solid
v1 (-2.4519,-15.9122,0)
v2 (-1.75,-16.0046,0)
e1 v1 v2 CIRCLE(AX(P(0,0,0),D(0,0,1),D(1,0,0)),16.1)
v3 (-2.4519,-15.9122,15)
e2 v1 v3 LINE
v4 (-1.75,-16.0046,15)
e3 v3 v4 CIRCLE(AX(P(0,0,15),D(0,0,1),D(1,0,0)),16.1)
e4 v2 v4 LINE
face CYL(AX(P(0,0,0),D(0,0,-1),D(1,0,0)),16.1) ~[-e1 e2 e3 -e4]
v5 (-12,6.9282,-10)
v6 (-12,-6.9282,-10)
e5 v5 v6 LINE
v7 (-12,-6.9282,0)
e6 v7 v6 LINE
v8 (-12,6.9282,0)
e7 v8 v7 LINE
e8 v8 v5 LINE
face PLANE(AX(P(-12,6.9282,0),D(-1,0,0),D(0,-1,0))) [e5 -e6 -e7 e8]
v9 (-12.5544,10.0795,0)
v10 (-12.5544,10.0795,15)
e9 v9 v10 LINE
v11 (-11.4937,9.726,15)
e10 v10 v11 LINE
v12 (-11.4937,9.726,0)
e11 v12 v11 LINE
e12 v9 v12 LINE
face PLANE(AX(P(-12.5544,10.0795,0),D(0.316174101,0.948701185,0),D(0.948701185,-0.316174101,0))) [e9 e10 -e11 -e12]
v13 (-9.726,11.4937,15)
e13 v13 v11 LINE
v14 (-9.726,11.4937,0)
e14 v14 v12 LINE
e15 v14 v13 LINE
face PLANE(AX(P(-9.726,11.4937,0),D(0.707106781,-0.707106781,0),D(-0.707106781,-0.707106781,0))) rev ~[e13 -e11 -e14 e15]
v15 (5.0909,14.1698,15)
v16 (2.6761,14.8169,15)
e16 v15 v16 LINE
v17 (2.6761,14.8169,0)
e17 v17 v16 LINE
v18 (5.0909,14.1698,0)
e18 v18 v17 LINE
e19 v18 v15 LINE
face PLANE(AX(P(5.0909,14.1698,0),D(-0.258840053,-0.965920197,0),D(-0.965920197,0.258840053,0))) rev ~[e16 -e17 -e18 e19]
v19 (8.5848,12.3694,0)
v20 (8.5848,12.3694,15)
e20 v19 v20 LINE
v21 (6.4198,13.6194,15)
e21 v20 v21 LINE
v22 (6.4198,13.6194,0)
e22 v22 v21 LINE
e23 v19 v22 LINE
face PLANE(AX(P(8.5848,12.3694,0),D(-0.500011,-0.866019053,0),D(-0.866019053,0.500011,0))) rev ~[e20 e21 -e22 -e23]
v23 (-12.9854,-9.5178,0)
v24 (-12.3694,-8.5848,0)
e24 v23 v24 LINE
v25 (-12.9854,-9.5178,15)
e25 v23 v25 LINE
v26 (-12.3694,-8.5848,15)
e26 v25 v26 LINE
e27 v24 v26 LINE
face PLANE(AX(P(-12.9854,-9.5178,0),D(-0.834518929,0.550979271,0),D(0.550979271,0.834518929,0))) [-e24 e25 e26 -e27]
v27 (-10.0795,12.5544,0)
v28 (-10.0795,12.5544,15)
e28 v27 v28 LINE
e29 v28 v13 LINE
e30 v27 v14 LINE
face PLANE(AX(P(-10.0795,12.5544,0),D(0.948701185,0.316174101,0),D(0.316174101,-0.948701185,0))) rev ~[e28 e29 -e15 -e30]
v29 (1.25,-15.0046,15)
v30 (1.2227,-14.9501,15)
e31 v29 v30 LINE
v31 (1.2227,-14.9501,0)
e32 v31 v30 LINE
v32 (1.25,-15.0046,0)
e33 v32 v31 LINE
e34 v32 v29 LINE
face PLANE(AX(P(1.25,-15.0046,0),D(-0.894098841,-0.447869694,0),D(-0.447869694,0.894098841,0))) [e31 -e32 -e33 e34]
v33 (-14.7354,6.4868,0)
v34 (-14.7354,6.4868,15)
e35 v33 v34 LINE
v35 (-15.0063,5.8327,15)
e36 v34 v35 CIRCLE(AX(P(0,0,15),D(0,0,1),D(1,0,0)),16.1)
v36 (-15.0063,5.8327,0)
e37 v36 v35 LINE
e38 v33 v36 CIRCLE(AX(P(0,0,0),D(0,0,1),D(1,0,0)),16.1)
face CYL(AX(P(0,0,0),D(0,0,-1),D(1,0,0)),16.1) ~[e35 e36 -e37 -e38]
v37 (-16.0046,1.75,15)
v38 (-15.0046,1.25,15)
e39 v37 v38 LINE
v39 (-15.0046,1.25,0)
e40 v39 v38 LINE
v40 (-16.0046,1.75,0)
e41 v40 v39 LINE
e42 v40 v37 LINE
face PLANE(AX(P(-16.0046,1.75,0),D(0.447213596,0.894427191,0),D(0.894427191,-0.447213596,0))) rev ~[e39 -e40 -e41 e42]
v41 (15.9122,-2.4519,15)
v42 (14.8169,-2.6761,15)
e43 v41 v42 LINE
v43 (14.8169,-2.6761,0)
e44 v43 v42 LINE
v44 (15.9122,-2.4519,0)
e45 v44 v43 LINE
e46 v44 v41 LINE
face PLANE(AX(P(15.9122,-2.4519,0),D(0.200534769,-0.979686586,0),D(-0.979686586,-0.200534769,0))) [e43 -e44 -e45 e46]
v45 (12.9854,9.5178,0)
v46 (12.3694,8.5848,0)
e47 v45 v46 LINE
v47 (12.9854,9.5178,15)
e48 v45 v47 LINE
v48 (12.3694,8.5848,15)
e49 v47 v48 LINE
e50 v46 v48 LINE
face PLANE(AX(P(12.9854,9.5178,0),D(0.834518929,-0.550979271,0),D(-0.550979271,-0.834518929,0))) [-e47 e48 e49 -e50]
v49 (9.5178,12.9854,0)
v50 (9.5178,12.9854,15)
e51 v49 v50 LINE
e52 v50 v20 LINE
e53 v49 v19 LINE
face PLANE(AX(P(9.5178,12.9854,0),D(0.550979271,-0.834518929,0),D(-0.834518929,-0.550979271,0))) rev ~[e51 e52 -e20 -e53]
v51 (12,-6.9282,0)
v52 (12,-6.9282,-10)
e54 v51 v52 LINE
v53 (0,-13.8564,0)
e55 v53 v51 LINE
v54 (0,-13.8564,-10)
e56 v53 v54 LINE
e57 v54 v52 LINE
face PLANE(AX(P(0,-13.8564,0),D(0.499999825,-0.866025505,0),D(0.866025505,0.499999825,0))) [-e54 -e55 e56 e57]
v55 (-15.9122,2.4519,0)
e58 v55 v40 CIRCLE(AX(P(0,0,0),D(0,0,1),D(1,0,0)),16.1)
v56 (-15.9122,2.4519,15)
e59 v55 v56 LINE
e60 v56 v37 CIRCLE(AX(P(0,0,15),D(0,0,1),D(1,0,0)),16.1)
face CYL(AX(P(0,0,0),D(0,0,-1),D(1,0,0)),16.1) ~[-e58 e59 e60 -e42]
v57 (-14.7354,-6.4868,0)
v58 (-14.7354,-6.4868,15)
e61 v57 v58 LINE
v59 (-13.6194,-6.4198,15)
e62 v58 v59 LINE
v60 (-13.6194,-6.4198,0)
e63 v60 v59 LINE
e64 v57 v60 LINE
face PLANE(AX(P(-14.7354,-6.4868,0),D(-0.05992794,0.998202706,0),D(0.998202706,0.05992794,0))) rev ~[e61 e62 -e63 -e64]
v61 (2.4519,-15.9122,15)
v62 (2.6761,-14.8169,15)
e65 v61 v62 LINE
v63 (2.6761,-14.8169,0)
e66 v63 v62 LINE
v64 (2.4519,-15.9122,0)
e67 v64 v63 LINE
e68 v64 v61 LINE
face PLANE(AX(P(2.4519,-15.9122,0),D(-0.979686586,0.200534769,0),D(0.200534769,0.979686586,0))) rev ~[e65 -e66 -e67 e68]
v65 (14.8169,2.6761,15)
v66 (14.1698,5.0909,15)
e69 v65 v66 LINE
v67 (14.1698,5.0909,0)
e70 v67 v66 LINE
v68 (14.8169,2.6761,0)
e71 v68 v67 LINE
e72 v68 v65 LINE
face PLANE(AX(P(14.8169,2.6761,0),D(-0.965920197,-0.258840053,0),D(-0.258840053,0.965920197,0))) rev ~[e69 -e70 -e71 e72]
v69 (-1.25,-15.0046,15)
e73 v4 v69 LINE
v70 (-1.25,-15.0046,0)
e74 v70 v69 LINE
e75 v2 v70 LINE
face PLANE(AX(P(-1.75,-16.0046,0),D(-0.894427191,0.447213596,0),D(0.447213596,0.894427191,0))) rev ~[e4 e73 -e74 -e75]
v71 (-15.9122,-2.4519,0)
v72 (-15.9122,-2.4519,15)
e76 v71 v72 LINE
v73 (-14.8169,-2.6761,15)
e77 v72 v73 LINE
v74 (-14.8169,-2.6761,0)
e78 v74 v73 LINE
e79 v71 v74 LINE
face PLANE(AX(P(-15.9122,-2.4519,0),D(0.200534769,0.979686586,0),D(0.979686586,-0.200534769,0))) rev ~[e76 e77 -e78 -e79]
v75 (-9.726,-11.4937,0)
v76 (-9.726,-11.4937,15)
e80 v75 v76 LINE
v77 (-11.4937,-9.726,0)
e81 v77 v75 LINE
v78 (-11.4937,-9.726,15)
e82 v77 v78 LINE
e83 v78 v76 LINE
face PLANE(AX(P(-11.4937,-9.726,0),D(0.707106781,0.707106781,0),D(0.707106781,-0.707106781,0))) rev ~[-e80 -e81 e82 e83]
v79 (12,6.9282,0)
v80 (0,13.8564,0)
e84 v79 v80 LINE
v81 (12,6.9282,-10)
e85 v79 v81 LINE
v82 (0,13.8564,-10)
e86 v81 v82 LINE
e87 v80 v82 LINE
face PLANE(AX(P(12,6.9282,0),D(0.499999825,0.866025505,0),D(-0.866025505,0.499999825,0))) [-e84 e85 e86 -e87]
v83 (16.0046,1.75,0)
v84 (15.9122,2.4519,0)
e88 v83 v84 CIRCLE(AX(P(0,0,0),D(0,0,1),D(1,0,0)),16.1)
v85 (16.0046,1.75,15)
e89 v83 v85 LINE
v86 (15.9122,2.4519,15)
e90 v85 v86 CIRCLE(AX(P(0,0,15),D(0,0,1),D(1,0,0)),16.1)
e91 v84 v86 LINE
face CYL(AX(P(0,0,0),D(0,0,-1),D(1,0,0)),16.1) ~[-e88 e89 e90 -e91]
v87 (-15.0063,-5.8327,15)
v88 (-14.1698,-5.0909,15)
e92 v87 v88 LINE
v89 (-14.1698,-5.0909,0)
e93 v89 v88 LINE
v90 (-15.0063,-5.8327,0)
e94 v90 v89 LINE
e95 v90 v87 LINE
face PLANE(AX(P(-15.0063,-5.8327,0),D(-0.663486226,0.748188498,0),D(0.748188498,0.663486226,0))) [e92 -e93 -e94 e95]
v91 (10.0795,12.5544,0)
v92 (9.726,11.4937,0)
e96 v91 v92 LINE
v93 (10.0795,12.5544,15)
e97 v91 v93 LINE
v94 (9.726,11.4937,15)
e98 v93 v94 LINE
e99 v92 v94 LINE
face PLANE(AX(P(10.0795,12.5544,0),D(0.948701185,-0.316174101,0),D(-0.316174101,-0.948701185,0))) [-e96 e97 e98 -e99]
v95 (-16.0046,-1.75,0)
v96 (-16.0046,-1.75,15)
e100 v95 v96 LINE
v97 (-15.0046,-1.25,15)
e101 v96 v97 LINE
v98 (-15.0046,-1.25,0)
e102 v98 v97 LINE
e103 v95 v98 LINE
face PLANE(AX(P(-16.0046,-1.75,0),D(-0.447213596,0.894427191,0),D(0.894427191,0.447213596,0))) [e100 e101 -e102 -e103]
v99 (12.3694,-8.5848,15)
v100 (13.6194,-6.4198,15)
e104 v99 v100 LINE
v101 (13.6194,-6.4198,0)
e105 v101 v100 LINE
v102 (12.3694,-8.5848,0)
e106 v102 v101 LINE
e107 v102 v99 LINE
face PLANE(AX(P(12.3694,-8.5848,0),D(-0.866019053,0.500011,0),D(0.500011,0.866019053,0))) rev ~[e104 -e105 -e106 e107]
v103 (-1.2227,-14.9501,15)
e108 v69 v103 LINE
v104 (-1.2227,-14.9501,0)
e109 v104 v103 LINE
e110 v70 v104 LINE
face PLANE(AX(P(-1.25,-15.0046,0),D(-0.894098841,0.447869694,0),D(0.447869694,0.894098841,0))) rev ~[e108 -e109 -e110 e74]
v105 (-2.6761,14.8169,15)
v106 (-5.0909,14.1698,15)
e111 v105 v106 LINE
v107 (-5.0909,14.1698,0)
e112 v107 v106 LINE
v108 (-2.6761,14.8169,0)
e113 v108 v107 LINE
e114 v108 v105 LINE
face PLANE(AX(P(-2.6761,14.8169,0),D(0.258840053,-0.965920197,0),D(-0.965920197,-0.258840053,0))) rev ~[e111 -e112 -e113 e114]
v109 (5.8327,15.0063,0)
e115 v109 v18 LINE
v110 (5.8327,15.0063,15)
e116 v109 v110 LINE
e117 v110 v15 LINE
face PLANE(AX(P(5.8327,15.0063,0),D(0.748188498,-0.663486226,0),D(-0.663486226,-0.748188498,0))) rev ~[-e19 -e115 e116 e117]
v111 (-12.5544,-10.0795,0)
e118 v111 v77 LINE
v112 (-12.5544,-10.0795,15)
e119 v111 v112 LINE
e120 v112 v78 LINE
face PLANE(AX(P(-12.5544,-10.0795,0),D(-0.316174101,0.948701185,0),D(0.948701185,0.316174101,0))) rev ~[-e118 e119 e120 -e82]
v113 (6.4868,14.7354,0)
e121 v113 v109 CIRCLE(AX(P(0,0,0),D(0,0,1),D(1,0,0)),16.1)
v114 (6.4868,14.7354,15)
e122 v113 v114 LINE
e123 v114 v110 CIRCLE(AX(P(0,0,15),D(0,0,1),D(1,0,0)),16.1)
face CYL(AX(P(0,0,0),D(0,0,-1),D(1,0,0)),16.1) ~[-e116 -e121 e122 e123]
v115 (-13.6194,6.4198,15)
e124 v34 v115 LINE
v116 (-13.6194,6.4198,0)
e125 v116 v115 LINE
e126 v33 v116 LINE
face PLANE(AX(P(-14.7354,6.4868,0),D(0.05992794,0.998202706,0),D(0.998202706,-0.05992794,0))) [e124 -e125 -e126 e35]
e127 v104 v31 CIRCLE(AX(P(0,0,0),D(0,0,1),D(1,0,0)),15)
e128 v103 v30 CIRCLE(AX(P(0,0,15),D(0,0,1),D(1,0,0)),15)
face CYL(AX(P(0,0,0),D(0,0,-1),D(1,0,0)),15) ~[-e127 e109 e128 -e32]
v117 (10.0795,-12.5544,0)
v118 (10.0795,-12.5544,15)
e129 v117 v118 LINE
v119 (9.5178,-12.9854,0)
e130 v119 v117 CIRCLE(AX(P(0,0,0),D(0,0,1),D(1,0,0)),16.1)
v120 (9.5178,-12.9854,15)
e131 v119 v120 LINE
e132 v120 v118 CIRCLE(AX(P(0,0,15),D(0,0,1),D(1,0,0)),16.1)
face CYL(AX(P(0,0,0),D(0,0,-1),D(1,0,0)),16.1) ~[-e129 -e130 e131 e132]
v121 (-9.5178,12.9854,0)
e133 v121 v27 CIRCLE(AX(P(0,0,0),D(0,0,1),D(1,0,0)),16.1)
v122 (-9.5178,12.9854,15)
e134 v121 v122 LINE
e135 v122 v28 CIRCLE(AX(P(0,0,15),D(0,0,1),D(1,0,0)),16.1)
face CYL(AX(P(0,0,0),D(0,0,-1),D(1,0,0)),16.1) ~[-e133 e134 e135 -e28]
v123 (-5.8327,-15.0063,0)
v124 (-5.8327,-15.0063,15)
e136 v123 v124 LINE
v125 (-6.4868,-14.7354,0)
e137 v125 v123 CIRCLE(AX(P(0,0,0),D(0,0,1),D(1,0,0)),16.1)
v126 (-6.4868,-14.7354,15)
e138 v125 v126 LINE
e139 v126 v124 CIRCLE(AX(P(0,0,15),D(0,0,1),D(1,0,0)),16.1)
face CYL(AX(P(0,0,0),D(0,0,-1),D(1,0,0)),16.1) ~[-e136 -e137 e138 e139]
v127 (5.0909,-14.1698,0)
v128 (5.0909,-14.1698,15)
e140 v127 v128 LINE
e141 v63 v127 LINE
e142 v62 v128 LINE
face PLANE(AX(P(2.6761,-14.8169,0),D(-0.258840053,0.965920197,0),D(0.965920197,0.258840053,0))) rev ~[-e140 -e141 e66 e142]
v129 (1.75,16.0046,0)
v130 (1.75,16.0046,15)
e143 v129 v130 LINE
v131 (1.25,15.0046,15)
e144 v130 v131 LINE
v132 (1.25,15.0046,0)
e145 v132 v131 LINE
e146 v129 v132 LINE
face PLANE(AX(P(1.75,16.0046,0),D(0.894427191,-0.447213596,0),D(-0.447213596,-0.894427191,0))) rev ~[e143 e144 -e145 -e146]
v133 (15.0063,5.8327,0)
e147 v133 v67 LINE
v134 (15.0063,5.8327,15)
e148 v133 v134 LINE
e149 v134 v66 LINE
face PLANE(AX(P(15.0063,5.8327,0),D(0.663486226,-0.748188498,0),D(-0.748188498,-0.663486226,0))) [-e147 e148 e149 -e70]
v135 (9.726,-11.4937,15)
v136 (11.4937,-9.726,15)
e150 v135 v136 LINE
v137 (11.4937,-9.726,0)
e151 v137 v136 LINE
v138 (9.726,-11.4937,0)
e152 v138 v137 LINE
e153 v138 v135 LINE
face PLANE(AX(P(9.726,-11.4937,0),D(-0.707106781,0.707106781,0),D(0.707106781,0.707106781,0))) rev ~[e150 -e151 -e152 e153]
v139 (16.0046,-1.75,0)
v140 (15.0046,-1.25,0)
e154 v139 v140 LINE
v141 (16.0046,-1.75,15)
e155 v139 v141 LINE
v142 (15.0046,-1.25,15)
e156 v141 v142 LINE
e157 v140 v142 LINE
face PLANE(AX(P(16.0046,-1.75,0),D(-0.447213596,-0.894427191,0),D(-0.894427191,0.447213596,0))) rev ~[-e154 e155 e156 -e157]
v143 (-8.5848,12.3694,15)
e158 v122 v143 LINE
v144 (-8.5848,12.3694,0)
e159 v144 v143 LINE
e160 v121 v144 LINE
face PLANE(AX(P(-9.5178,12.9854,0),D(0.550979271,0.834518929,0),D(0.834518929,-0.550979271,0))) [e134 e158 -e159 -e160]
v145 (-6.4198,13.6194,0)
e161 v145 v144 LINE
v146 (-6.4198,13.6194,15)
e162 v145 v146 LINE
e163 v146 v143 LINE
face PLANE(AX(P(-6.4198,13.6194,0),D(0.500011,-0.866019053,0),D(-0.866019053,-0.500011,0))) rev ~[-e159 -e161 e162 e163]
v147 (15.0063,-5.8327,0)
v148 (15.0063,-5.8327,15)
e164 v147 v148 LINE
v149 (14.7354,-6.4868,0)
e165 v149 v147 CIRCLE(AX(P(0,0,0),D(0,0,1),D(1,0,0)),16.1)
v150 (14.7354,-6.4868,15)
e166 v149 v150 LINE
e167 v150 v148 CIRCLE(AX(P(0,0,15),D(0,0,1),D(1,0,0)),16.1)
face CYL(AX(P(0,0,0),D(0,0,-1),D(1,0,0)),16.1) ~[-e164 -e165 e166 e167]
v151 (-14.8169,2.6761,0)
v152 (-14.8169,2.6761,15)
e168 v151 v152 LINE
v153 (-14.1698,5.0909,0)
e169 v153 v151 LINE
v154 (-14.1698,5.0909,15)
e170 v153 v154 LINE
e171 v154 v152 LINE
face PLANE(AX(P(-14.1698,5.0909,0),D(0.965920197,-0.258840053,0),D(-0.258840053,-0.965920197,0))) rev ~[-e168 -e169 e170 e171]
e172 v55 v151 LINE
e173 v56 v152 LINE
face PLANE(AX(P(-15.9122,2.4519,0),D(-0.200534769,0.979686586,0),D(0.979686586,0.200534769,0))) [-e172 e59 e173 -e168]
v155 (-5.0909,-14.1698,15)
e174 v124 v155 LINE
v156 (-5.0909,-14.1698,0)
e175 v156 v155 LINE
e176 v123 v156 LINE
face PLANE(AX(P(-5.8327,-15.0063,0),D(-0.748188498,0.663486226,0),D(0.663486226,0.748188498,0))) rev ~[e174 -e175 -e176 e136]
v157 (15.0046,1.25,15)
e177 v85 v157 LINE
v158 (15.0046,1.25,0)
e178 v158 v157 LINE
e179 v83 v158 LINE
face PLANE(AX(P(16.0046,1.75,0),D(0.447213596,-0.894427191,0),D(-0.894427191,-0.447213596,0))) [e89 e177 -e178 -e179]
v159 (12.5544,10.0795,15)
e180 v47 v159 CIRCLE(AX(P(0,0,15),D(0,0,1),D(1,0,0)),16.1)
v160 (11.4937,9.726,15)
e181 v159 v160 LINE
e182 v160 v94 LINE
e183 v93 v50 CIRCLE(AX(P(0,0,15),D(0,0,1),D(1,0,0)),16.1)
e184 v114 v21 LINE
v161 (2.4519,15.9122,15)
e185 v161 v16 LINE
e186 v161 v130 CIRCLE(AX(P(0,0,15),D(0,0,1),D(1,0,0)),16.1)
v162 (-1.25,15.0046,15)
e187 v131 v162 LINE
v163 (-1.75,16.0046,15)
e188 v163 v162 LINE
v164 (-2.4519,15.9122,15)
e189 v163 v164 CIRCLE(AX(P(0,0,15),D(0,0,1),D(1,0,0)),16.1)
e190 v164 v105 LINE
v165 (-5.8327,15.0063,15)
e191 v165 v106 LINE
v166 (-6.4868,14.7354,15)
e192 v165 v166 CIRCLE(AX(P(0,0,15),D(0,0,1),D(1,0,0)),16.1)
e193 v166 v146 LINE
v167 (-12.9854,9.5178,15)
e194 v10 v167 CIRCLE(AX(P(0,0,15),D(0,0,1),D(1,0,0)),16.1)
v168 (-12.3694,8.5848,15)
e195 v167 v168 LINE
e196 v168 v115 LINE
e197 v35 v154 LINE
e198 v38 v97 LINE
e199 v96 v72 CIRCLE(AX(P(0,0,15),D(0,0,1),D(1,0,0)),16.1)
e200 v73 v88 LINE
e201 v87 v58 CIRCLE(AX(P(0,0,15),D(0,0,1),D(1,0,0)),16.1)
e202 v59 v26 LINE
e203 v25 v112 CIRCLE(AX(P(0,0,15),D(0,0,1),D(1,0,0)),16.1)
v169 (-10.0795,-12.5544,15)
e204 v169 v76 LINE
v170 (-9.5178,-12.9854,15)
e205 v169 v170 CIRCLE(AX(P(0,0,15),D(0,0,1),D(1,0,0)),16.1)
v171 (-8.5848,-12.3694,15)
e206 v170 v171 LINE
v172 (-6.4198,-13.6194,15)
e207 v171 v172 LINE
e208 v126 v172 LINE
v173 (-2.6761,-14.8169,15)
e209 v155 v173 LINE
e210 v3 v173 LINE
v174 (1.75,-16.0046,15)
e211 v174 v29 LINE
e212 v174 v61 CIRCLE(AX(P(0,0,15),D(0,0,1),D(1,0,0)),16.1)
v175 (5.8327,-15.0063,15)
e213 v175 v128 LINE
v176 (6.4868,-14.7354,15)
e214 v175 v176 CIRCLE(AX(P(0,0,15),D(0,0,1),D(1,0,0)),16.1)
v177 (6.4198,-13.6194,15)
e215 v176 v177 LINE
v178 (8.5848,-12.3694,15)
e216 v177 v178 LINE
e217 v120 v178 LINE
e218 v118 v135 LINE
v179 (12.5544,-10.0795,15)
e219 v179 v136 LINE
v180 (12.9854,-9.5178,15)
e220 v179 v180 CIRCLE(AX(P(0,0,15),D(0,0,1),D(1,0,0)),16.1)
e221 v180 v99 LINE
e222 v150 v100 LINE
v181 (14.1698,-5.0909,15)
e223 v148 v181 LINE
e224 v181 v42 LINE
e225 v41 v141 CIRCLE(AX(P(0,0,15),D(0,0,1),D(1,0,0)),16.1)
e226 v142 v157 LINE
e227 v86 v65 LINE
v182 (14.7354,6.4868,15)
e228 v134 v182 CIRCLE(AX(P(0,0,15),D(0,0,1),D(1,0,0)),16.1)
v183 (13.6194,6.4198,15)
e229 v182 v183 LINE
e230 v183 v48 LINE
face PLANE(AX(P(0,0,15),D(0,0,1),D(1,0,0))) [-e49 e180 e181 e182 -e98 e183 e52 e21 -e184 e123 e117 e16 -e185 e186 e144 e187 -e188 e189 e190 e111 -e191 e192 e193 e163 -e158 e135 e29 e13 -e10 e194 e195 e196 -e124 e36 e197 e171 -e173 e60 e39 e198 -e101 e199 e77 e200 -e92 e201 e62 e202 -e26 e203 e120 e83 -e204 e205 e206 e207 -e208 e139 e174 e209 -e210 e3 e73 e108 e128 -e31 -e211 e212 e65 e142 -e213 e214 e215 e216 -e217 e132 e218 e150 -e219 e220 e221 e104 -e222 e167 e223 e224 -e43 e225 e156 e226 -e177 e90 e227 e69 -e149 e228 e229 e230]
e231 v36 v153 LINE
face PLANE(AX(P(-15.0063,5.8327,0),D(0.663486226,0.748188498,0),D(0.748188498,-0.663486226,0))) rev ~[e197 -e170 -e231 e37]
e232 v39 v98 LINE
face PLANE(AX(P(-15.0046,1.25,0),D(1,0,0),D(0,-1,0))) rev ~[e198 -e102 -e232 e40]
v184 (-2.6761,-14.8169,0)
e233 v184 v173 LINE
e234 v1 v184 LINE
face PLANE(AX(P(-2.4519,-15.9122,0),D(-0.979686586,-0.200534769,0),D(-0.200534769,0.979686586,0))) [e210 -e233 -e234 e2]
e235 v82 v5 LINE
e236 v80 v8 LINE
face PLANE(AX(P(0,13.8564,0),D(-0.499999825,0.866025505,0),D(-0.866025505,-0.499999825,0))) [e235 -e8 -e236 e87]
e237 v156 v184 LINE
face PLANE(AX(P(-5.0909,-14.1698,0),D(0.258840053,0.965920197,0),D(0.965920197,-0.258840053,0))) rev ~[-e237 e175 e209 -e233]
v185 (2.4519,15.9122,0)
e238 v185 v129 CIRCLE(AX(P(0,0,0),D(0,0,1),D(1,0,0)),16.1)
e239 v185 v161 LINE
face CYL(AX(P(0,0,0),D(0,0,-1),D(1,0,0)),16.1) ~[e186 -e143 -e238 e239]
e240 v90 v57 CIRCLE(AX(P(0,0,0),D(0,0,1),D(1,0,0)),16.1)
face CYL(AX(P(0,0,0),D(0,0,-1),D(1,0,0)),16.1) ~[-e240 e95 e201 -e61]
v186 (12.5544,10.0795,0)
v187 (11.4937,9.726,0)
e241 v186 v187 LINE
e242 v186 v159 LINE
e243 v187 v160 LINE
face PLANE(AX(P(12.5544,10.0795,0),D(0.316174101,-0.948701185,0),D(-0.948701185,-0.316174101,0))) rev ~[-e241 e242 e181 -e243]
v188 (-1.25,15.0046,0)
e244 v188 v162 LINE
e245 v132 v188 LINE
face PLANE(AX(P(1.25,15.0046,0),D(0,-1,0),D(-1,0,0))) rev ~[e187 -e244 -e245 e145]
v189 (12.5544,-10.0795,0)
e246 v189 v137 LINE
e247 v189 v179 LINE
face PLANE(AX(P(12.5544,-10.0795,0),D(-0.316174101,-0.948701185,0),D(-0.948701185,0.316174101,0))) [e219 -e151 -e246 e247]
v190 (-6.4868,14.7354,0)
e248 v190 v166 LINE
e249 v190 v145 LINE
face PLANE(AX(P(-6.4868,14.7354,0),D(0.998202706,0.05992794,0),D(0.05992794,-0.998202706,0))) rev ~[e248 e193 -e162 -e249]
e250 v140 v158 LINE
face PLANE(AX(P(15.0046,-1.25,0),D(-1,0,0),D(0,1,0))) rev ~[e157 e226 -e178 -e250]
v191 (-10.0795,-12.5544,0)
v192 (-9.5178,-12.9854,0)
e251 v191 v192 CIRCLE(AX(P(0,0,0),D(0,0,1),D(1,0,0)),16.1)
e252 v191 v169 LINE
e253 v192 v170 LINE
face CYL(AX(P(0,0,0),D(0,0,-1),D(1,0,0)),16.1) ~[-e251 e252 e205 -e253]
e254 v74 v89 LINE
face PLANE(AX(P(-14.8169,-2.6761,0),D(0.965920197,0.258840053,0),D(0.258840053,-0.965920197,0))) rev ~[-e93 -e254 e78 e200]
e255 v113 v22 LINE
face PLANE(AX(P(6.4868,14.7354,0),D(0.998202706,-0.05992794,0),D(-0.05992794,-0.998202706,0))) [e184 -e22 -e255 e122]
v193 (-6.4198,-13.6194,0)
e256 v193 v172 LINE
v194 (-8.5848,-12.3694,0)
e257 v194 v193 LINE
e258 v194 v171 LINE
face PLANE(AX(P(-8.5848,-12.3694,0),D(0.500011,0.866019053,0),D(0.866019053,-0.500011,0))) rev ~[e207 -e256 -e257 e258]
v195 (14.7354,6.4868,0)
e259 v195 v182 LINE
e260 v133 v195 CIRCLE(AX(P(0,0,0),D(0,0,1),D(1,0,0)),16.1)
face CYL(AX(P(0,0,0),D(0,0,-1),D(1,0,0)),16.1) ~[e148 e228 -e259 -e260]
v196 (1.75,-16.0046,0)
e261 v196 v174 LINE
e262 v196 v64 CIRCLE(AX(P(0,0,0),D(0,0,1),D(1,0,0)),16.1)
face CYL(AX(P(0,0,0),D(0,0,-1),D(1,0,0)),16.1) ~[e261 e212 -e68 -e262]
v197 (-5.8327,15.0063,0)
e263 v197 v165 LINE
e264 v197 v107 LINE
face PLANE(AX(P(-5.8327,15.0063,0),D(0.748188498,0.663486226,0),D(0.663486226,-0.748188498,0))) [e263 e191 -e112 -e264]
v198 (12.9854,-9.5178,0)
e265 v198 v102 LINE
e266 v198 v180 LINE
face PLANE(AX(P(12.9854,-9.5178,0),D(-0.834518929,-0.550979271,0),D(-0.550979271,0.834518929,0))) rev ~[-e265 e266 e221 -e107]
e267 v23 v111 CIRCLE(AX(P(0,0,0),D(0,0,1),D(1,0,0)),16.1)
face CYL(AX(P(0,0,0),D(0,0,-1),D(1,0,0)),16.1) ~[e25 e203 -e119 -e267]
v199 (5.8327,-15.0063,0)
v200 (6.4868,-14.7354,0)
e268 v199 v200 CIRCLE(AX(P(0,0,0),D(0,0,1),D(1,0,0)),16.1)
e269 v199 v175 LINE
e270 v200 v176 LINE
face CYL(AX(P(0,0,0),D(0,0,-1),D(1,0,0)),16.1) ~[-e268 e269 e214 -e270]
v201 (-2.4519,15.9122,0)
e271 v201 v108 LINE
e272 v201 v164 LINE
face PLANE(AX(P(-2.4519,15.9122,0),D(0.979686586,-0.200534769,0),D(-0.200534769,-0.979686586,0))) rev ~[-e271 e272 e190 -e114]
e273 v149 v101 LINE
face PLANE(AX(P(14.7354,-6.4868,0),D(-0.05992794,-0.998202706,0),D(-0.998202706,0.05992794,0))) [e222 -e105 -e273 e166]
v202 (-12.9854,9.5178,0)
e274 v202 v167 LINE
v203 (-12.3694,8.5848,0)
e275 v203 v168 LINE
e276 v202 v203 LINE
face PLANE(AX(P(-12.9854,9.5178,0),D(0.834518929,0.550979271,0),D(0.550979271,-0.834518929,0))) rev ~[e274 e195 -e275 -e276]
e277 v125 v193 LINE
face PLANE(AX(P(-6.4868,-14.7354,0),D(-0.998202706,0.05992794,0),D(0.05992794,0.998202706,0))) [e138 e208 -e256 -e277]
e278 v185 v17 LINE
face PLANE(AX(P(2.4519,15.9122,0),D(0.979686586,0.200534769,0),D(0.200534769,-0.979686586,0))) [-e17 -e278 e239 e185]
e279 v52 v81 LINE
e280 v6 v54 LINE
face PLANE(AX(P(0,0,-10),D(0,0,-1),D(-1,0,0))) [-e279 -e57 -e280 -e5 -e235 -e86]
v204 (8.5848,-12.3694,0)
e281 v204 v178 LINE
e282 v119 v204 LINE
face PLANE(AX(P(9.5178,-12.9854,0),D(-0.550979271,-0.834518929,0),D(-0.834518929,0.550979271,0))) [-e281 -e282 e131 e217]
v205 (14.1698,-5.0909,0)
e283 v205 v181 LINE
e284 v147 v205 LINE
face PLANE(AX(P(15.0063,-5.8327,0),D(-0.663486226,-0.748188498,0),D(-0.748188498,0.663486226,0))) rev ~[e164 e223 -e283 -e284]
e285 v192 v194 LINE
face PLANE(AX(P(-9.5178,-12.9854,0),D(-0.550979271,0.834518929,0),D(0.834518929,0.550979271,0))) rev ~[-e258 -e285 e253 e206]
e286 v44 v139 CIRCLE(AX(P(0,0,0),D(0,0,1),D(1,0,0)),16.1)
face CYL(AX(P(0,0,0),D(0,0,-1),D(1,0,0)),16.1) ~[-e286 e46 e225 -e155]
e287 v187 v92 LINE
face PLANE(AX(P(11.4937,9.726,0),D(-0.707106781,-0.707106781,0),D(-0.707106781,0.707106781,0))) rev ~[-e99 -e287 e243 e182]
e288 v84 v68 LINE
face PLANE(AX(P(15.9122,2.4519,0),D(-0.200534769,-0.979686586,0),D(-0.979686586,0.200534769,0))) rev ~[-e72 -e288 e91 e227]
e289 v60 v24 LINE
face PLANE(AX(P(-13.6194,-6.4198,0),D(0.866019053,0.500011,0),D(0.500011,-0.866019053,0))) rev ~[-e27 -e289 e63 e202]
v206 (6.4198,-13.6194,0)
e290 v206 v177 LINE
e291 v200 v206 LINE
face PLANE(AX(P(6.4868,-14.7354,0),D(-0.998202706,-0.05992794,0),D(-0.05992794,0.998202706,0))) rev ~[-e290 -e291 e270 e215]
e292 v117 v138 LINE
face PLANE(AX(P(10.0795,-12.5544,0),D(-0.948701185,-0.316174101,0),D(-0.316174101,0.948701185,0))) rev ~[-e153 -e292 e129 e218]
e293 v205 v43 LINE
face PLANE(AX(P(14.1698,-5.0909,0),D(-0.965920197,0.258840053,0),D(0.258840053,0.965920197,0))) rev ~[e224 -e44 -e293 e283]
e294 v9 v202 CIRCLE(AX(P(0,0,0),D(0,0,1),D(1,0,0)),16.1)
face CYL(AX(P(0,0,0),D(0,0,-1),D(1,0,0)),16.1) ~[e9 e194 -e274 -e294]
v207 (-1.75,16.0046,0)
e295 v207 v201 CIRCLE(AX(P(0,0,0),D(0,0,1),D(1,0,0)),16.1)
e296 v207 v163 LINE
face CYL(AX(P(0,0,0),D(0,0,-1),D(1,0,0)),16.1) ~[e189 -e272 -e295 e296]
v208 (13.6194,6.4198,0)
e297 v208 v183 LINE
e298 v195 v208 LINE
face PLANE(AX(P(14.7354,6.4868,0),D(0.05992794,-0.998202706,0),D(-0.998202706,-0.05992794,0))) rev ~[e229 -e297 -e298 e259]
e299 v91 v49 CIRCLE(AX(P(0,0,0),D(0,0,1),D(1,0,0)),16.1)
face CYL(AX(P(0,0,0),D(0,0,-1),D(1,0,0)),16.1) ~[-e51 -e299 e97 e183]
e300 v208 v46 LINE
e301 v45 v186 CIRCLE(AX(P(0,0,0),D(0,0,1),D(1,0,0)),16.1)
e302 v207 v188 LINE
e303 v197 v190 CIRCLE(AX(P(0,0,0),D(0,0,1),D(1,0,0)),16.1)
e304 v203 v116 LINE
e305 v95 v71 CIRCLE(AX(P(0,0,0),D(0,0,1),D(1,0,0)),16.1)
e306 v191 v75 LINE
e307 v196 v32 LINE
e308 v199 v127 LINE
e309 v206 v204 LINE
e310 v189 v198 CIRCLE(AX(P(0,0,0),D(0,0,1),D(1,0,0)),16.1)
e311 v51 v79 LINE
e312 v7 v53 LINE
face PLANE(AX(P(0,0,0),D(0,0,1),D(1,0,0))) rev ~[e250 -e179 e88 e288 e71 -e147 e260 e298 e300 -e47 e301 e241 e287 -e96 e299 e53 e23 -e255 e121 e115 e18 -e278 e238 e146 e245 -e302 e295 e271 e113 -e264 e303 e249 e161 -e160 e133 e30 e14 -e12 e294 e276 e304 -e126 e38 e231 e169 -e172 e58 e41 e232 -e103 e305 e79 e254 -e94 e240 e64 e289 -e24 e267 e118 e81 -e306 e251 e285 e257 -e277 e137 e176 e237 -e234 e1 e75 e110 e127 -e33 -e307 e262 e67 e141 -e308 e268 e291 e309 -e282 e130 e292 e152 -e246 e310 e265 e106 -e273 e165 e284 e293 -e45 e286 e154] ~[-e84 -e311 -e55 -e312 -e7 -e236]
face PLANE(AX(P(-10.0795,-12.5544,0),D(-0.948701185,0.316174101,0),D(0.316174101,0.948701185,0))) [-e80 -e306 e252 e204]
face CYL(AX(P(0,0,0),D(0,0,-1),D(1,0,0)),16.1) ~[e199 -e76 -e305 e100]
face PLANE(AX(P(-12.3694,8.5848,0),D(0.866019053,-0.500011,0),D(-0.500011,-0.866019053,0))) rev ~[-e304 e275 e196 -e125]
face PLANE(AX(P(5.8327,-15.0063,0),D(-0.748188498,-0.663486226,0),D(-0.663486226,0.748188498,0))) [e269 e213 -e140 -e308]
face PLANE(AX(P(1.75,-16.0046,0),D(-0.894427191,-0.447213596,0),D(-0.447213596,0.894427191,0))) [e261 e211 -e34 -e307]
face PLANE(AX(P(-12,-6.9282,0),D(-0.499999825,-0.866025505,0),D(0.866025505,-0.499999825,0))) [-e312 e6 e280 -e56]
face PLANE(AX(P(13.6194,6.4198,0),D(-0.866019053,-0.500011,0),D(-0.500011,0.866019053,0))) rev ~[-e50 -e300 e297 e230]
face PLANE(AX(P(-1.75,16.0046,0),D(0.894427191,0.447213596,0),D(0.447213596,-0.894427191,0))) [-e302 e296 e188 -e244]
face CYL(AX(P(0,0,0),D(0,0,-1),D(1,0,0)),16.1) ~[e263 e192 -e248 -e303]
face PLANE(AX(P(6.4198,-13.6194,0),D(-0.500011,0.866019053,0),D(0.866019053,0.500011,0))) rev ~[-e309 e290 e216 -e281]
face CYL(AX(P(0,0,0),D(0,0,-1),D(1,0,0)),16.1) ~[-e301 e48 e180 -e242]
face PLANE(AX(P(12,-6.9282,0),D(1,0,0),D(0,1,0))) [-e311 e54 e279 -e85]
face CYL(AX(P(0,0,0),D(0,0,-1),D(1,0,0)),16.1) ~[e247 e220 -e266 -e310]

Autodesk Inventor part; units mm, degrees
ref_plane "YZ Plane" through (0, 0, 0) normal (1, 0, 0) x (0, 1, 0)
ref_plane "XZ Plane" through (0, 0, 0) normal (0, 1, 0) x (-1, 0, 0)
ref_plane "XY Plane" through (0, 0, 0) normal (0, 0, 1) x (1, 0, 0)
sketch "Sketch1" plane through (0, 0, 0) normal (0, 0, 1) x (1, 0, 0)
  circle A0 centre (0, 0) radius 17.25
  circle A1 centre (0, 0) radius 16.1
  circle A2 centre (0, 0) radius 15
  line L0 (-1.25, -15.0046) -> (1.25, -15.0046)
  line L1 (-1.75, -16.0046) -> (1.75, -16.0046)
  line L2 (1.75, -16.0046) -> (1.25, -15.0046)
  line L3 (-1.75, -16.0046) -> (-1.25, -15.0046)
  line L4 (-1.25, -15.0046) -> (-1.2227, -14.9501)
  line L5 (1.25, -15.0046) -> (1.2227, -14.9501)
  line L6 (2.6761, -14.8169) -> (5.0909, -14.1698)
  line L7 (2.4519, -15.9122) -> (2.6761, -14.8169)
  line L8 (2.6761, -14.8169) -> (2.6883, -14.7571)
  line L9 (5.8327, -15.0063) -> (5.0909, -14.1698)
  line L10 (5.0909, -14.1698) -> (5.0504, -14.1242)
  line L11 (6.4198, -13.6194) -> (8.5848, -12.3694)
  line L12 (6.4868, -14.7354) -> (6.4198, -13.6194)
  line L13 (6.4198, -13.6194) -> (6.4161, -13.5585)
  line L14 (9.5178, -12.9854) -> (8.5848, -12.3694)
  line L15 (8.5848, -12.3694) -> (8.534, -12.3358)
  line L16 (9.726, -11.4937) -> (11.4937, -9.726)
  line L17 (10.0795, -12.5544) -> (9.726, -11.4937)
  line L18 (9.726, -11.4937) -> (9.7067, -11.4359)
  line L19 (12.5544, -10.0795) -> (11.4937, -9.726)
  line L20 (11.4937, -9.726) -> (11.4359, -9.7067)
  line L21 (12.3694, -8.5848) -> (13.6194, -6.4198)
  line L22 (12.9854, -9.5178) -> (12.3694, -8.5848)
  line L23 (12.3694, -8.5848) -> (12.3358, -8.534)
  line L24 (14.7354, -6.4868) -> (13.6194, -6.4198)
  line L25 (13.6194, -6.4198) -> (13.5585, -6.4161)
  line L26 (14.1698, -5.0909) -> (14.8169, -2.6761)
  line L27 (15.0063, -5.8327) -> (14.1698, -5.0909)
  line L28 (14.1698, -5.0909) -> (14.1242, -5.0504)
  line L29 (15.9122, -2.4519) -> (14.8169, -2.6761)
  line L30 (14.8169, -2.6761) -> (14.7571, -2.6883)
  line L31 (15.0046, -1.25) -> (15.0046, 1.25)
  line L32 (16.0046, -1.75) -> (15.0046, -1.25)
  line L33 (15.0046, -1.25) -> (14.9501, -1.2227)
  line L34 (16.0046, 1.75) -> (15.0046, 1.25)
  line L35 (15.0046, 1.25) -> (14.9501, 1.2227)
  line L36 (14.8169, 2.6761) -> (14.1698, 5.0909)
  line L37 (15.9122, 2.4519) -> (14.8169, 2.6761)
  line L38 (14.8169, 2.6761) -> (14.7571, 2.6883)
  line L39 (15.0063, 5.8327) -> (14.1698, 5.0909)
  line L40 (14.1698, 5.0909) -> (14.1242, 5.0504)
  line L41 (13.6194, 6.4198) -> (12.3694, 8.5848)
  line L42 (14.7354, 6.4868) -> (13.6194, 6.4198)
  line L43 (13.6194, 6.4198) -> (13.5585, 6.4161)
  line L44 (12.9854, 9.5178) -> (12.3694, 8.5848)
  line L45 (12.3694, 8.5848) -> (12.3358, 8.534)
  line L46 (11.4937, 9.726) -> (9.726, 11.4937)
  line L47 (12.5544, 10.0795) -> (11.4937, 9.726)
  line L48 (11.4937, 9.726) -> (11.4359, 9.7067)
  line L49 (10.0795, 12.5544) -> (9.726, 11.4937)
  line L50 (9.726, 11.4937) -> (9.7067, 11.4359)
  line L51 (8.5848, 12.3694) -> (6.4198, 13.6194)
  line L52 (9.5178, 12.9854) -> (8.5848, 12.3694)
  line L53 (8.5848, 12.3694) -> (8.534, 12.3358)
  line L54 (6.4868, 14.7354) -> (6.4198, 13.6194)
  line L55 (6.4198, 13.6194) -> (6.4161, 13.5585)
  line L56 (5.0909, 14.1698) -> (2.6761, 14.8169)
  line L57 (5.8327, 15.0063) -> (5.0909, 14.1698)
  line L58 (5.0909, 14.1698) -> (5.0504, 14.1242)
  line L59 (2.4519, 15.9122) -> (2.6761, 14.8169)
  line L60 (2.6761, 14.8169) -> (2.6883, 14.7571)
  line L61 (1.25, 15.0046) -> (-1.25, 15.0046)
  line L62 (1.75, 16.0046) -> (1.25, 15.0046)
  line L63 (1.25, 15.0046) -> (1.2227, 14.9501)
  line L64 (-1.75, 16.0046) -> (-1.25, 15.0046)
  line L65 (-1.25, 15.0046) -> (-1.2227, 14.9501)
  line L66 (-2.6761, 14.8169) -> (-5.0909, 14.1698)
  line L67 (-2.4519, 15.9122) -> (-2.6761, 14.8169)
  line L68 (-2.6761, 14.8169) -> (-2.6883, 14.7571)
  line L69 (-5.8327, 15.0063) -> (-5.0909, 14.1698)
  line L70 (-5.0909, 14.1698) -> (-5.0504, 14.1242)
  line L71 (-6.4198, 13.6194) -> (-8.5848, 12.3694)
  line L72 (-6.4868, 14.7354) -> (-6.4198, 13.6194)
  line L73 (-6.4198, 13.6194) -> (-6.4161, 13.5585)
  line L74 (-9.5178, 12.9854) -> (-8.5848, 12.3694)
  line L75 (-8.5848, 12.3694) -> (-8.534, 12.3358)
  line L76 (-9.726, 11.4937) -> (-11.4937, 9.726)
  line L77 (-10.0795, 12.5544) -> (-9.726, 11.4937)
  line L78 (-9.726, 11.4937) -> (-9.7067, 11.4359)
  line L79 (-12.5544, 10.0795) -> (-11.4937, 9.726)
  line L80 (-11.4937, 9.726) -> (-11.4359, 9.7067)
  line L81 (-12.3694, 8.5848) -> (-13.6194, 6.4198)
  line L82 (-12.9854, 9.5178) -> (-12.3694, 8.5848)
  line L83 (-12.3694, 8.5848) -> (-12.3358, 8.534)
  line L84 (-14.7354, 6.4868) -> (-13.6194, 6.4198)
  line L85 (-13.6194, 6.4198) -> (-13.5585, 6.4161)
  line L86 (-14.1698, 5.0909) -> (-14.8169, 2.6761)
  line L87 (-15.0063, 5.8327) -> (-14.1698, 5.0909)
  line L88 (-14.1698, 5.0909) -> (-14.1242, 5.0504)
  line L89 (-15.9122, 2.4519) -> (-14.8169, 2.6761)
  line L90 (-14.8169, 2.6761) -> (-14.7571, 2.6883)
  line L91 (-15.0046, 1.25) -> (-15.0046, -1.25)
  line L92 (-16.0046, 1.75) -> (-15.0046, 1.25)
  line L93 (-15.0046, 1.25) -> (-14.9501, 1.2227)
  line L94 (-16.0046, -1.75) -> (-15.0046, -1.25)
  line L95 (-15.0046, -1.25) -> (-14.9501, -1.2227)
  line L96 (-14.8169, -2.6761) -> (-14.1698, -5.0909)
  line L97 (-15.9122, -2.4519) -> (-14.8169, -2.6761)
  line L98 (-14.8169, -2.6761) -> (-14.7571, -2.6883)
  line L99 (-15.0063, -5.8327) -> (-14.1698, -5.0909)
  line L100 (-14.1698, -5.0909) -> (-14.1242, -5.0504)
  line L101 (-13.6194, -6.4198) -> (-12.3694, -8.5848)
  line L102 (-14.7354, -6.4868) -> (-13.6194, -6.4198)
  line L103 (-13.6194, -6.4198) -> (-13.5585, -6.4161)
  line L104 (-12.9854, -9.5178) -> (-12.3694, -8.5848)
  line L105 (-12.3694, -8.5848) -> (-12.3358, -8.534)
  line L106 (-11.4937, -9.726) -> (-9.726, -11.4937)
  line L107 (-12.5544, -10.0795) -> (-11.4937, -9.726)
  line L108 (-11.4937, -9.726) -> (-11.4359, -9.7067)
  line L109 (-10.0795, -12.5544) -> (-9.726, -11.4937)
  line L110 (-9.726, -11.4937) -> (-9.7067, -11.4359)
  line L111 (-8.5848, -12.3694) -> (-6.4198, -13.6194)
  line L112 (-9.5178, -12.9854) -> (-8.5848, -12.3694)
  line L113 (-8.5848, -12.3694) -> (-8.534, -12.3358)
  line L114 (-6.4868, -14.7354) -> (-6.4198, -13.6194)
  line L115 (-6.4198, -13.6194) -> (-6.4161, -13.5585)
  line L116 (-5.0909, -14.1698) -> (-2.6761, -14.8169)
  line L117 (-5.8327, -15.0063) -> (-5.0909, -14.1698)
  line L118 (-5.0909, -14.1698) -> (-5.0504, -14.1242)
  line L119 (-2.4519, -15.9122) -> (-2.6761, -14.8169)
  line L120 (-2.6761, -14.8169) -> (-2.6883, -14.7571)
  point P0 (0, -16.0046)
  point P1 (0, -15.0046)
  point P2 (1.75, -16.0046)
  point P3 (3.8835, -14.4933)
  point P4 (7.5023, -12.9944)
  point P5 (10.6099, -10.6099)
  point P6 (12.9944, -7.5023)
  point P7 (14.4933, -3.8835)
  point P8 (15.0046, 0)
  point P9 (14.4933, 3.8835)
  point P10 (12.9944, 7.5023)
  point P11 (10.6099, 10.6099)
  point P12 (7.5023, 12.9944)
  point P13 (3.8835, 14.4933)
  point P14 (0, 15.0046)
  point P15 (-3.8835, 14.4933)
  point P16 (-7.5023, 12.9944)
  point P17 (-10.6099, 10.6099)
  point P18 (-12.9944, 7.5023)
  point P19 (-14.4933, 3.8835)
  point P20 (-15.0046, 0)
  point P21 (-14.4933, -3.8835)
  point P22 (-12.9944, -7.5023)
  point P23 (-10.6099, -10.6099)
  point P24 (-7.5023, -12.9944)
  point P25 (-3.8835, -14.4933)
  dimension "d1" = 32.2
  dimension "d0" = 34.5
  dimension "d2" = 30
  dimension "d3" = 2.5
  dimension "d4" = 3.5
  dimension "d5" = 1
  dimension "d20" = 360
extrude "Extrusion1" add sketch "Sketch1" along normal blind 15 contours L34 L35 A2 L38 L37 A1 | A1 L29 L30 A2 L33 L32 | L31 L33 A2 L35 | L39 L40 A2 L43 L42 A1 | L38 A2 L40 L36 | A2 | A1 L24 L25 A2 L28 L27 | L26 L28 A2 L30 | L44 L45 A2 L48 L47 A1 | L43 A2 L45 L41 | A1 L19 L20 A2 L23 L22 | L21 L23 A2 L25 | L49 L50 A2 L53 L52 A1 | L48 A2 L50 L46 | A1 L14 L15 A2 L18 L17 | L16 L18 A2 L20 | L54 L55 A2 L58 L57 A1 | L53 A2 L55 L51 | A1 L9 L10 A2 L13 L12 | L11 L13 A2 L15 | L59 L60 A2 L63 L62 A1 | L58 A2 L60 L56 | A1 L2 L5 A2 L8 L7 | L6 L8 A2 L10 | L64 L65 A2 L68 L67 A1 | L63 A2 L65 L61 | A1 L119 L120 A2 L4 L3 | L69 L70 A2 L73 L72 A1 | L68 A2 L70 L66 | A1 L114 L115 A2 L118 L117 | L116 L118 A2 L120 | L74 L75 A2 L78 L77 A1 | L73 A2 L75 L71 | A1 L109 L110 A2 L113 L112 | L111 L113 A2 L115 | L79 L80 A2 L83 L82 A1 | L78 A2 L80 L76 | A1 L104 L105 A2 L108 L107 | L106 L108 A2 L110 | L84 L85 A2 L88 L87 A1 | L83 A2 L85 L81 | A1 L99 L100 A2 L103 L102 | L101 L103 A2 L105 | L89 L90 A2 L93 L92 A1 | L88 A2 L90 L86 | A1 L94 L95 A2 L98 L97 | L96 L98 A2 L100 | L93 A2 L95 L91
sketch "Sketch2" plane through (0, 0, 0) normal (0, 0, -1) x (-1, 0, 0)
  line L0 (12, 6.9282) -> (12, -6.9282)
  line L1 (12, -6.9282) -> (0, -13.8564)
  line L2 (0, -13.8564) -> (-12, -6.9282)
  line L3 (-12, -6.9282) -> (-12, 6.9282)
  line L4 (-12, 6.9282) -> (0, 13.8564)
  line L5 (0, 13.8564) -> (12, 6.9282)
  point P0 (0, 0)
  point P1 (0, 0)
  dimension "d12" = 24
extrude "Extrusion2" add sketch "Sketch2" along normal blind 10
sketch "Sketch3" plane through (0, 0, -10) normal (0, 0, -1) x (-1, 0, 0)
  circle A0 centre (0, 0) radius 7.5
  dimension "d15" = 15
extrude "Extrusion3" [suppressed]
sketch "Sketch4" plane through (0, 0, 0) normal (1, 0, 0) x (0, 1, 0)
  line L0 (20.8545, -11.8216) -> (-20.3089, -11.8216)
  line L1 (-20.3089, -11.8216) -> (-20.3089, 5.7592)
  line L2 (-20.3089, 5.7592) -> (20.8545, 5.7592)
  line L3 (20.8545, 5.7592) -> (20.8545, -11.8216)
  point P0 (0, 0)
extrude "Extrusion4" [suppressed]
properties part number "Nastavek Millard freewheel tool vecji trapze"
